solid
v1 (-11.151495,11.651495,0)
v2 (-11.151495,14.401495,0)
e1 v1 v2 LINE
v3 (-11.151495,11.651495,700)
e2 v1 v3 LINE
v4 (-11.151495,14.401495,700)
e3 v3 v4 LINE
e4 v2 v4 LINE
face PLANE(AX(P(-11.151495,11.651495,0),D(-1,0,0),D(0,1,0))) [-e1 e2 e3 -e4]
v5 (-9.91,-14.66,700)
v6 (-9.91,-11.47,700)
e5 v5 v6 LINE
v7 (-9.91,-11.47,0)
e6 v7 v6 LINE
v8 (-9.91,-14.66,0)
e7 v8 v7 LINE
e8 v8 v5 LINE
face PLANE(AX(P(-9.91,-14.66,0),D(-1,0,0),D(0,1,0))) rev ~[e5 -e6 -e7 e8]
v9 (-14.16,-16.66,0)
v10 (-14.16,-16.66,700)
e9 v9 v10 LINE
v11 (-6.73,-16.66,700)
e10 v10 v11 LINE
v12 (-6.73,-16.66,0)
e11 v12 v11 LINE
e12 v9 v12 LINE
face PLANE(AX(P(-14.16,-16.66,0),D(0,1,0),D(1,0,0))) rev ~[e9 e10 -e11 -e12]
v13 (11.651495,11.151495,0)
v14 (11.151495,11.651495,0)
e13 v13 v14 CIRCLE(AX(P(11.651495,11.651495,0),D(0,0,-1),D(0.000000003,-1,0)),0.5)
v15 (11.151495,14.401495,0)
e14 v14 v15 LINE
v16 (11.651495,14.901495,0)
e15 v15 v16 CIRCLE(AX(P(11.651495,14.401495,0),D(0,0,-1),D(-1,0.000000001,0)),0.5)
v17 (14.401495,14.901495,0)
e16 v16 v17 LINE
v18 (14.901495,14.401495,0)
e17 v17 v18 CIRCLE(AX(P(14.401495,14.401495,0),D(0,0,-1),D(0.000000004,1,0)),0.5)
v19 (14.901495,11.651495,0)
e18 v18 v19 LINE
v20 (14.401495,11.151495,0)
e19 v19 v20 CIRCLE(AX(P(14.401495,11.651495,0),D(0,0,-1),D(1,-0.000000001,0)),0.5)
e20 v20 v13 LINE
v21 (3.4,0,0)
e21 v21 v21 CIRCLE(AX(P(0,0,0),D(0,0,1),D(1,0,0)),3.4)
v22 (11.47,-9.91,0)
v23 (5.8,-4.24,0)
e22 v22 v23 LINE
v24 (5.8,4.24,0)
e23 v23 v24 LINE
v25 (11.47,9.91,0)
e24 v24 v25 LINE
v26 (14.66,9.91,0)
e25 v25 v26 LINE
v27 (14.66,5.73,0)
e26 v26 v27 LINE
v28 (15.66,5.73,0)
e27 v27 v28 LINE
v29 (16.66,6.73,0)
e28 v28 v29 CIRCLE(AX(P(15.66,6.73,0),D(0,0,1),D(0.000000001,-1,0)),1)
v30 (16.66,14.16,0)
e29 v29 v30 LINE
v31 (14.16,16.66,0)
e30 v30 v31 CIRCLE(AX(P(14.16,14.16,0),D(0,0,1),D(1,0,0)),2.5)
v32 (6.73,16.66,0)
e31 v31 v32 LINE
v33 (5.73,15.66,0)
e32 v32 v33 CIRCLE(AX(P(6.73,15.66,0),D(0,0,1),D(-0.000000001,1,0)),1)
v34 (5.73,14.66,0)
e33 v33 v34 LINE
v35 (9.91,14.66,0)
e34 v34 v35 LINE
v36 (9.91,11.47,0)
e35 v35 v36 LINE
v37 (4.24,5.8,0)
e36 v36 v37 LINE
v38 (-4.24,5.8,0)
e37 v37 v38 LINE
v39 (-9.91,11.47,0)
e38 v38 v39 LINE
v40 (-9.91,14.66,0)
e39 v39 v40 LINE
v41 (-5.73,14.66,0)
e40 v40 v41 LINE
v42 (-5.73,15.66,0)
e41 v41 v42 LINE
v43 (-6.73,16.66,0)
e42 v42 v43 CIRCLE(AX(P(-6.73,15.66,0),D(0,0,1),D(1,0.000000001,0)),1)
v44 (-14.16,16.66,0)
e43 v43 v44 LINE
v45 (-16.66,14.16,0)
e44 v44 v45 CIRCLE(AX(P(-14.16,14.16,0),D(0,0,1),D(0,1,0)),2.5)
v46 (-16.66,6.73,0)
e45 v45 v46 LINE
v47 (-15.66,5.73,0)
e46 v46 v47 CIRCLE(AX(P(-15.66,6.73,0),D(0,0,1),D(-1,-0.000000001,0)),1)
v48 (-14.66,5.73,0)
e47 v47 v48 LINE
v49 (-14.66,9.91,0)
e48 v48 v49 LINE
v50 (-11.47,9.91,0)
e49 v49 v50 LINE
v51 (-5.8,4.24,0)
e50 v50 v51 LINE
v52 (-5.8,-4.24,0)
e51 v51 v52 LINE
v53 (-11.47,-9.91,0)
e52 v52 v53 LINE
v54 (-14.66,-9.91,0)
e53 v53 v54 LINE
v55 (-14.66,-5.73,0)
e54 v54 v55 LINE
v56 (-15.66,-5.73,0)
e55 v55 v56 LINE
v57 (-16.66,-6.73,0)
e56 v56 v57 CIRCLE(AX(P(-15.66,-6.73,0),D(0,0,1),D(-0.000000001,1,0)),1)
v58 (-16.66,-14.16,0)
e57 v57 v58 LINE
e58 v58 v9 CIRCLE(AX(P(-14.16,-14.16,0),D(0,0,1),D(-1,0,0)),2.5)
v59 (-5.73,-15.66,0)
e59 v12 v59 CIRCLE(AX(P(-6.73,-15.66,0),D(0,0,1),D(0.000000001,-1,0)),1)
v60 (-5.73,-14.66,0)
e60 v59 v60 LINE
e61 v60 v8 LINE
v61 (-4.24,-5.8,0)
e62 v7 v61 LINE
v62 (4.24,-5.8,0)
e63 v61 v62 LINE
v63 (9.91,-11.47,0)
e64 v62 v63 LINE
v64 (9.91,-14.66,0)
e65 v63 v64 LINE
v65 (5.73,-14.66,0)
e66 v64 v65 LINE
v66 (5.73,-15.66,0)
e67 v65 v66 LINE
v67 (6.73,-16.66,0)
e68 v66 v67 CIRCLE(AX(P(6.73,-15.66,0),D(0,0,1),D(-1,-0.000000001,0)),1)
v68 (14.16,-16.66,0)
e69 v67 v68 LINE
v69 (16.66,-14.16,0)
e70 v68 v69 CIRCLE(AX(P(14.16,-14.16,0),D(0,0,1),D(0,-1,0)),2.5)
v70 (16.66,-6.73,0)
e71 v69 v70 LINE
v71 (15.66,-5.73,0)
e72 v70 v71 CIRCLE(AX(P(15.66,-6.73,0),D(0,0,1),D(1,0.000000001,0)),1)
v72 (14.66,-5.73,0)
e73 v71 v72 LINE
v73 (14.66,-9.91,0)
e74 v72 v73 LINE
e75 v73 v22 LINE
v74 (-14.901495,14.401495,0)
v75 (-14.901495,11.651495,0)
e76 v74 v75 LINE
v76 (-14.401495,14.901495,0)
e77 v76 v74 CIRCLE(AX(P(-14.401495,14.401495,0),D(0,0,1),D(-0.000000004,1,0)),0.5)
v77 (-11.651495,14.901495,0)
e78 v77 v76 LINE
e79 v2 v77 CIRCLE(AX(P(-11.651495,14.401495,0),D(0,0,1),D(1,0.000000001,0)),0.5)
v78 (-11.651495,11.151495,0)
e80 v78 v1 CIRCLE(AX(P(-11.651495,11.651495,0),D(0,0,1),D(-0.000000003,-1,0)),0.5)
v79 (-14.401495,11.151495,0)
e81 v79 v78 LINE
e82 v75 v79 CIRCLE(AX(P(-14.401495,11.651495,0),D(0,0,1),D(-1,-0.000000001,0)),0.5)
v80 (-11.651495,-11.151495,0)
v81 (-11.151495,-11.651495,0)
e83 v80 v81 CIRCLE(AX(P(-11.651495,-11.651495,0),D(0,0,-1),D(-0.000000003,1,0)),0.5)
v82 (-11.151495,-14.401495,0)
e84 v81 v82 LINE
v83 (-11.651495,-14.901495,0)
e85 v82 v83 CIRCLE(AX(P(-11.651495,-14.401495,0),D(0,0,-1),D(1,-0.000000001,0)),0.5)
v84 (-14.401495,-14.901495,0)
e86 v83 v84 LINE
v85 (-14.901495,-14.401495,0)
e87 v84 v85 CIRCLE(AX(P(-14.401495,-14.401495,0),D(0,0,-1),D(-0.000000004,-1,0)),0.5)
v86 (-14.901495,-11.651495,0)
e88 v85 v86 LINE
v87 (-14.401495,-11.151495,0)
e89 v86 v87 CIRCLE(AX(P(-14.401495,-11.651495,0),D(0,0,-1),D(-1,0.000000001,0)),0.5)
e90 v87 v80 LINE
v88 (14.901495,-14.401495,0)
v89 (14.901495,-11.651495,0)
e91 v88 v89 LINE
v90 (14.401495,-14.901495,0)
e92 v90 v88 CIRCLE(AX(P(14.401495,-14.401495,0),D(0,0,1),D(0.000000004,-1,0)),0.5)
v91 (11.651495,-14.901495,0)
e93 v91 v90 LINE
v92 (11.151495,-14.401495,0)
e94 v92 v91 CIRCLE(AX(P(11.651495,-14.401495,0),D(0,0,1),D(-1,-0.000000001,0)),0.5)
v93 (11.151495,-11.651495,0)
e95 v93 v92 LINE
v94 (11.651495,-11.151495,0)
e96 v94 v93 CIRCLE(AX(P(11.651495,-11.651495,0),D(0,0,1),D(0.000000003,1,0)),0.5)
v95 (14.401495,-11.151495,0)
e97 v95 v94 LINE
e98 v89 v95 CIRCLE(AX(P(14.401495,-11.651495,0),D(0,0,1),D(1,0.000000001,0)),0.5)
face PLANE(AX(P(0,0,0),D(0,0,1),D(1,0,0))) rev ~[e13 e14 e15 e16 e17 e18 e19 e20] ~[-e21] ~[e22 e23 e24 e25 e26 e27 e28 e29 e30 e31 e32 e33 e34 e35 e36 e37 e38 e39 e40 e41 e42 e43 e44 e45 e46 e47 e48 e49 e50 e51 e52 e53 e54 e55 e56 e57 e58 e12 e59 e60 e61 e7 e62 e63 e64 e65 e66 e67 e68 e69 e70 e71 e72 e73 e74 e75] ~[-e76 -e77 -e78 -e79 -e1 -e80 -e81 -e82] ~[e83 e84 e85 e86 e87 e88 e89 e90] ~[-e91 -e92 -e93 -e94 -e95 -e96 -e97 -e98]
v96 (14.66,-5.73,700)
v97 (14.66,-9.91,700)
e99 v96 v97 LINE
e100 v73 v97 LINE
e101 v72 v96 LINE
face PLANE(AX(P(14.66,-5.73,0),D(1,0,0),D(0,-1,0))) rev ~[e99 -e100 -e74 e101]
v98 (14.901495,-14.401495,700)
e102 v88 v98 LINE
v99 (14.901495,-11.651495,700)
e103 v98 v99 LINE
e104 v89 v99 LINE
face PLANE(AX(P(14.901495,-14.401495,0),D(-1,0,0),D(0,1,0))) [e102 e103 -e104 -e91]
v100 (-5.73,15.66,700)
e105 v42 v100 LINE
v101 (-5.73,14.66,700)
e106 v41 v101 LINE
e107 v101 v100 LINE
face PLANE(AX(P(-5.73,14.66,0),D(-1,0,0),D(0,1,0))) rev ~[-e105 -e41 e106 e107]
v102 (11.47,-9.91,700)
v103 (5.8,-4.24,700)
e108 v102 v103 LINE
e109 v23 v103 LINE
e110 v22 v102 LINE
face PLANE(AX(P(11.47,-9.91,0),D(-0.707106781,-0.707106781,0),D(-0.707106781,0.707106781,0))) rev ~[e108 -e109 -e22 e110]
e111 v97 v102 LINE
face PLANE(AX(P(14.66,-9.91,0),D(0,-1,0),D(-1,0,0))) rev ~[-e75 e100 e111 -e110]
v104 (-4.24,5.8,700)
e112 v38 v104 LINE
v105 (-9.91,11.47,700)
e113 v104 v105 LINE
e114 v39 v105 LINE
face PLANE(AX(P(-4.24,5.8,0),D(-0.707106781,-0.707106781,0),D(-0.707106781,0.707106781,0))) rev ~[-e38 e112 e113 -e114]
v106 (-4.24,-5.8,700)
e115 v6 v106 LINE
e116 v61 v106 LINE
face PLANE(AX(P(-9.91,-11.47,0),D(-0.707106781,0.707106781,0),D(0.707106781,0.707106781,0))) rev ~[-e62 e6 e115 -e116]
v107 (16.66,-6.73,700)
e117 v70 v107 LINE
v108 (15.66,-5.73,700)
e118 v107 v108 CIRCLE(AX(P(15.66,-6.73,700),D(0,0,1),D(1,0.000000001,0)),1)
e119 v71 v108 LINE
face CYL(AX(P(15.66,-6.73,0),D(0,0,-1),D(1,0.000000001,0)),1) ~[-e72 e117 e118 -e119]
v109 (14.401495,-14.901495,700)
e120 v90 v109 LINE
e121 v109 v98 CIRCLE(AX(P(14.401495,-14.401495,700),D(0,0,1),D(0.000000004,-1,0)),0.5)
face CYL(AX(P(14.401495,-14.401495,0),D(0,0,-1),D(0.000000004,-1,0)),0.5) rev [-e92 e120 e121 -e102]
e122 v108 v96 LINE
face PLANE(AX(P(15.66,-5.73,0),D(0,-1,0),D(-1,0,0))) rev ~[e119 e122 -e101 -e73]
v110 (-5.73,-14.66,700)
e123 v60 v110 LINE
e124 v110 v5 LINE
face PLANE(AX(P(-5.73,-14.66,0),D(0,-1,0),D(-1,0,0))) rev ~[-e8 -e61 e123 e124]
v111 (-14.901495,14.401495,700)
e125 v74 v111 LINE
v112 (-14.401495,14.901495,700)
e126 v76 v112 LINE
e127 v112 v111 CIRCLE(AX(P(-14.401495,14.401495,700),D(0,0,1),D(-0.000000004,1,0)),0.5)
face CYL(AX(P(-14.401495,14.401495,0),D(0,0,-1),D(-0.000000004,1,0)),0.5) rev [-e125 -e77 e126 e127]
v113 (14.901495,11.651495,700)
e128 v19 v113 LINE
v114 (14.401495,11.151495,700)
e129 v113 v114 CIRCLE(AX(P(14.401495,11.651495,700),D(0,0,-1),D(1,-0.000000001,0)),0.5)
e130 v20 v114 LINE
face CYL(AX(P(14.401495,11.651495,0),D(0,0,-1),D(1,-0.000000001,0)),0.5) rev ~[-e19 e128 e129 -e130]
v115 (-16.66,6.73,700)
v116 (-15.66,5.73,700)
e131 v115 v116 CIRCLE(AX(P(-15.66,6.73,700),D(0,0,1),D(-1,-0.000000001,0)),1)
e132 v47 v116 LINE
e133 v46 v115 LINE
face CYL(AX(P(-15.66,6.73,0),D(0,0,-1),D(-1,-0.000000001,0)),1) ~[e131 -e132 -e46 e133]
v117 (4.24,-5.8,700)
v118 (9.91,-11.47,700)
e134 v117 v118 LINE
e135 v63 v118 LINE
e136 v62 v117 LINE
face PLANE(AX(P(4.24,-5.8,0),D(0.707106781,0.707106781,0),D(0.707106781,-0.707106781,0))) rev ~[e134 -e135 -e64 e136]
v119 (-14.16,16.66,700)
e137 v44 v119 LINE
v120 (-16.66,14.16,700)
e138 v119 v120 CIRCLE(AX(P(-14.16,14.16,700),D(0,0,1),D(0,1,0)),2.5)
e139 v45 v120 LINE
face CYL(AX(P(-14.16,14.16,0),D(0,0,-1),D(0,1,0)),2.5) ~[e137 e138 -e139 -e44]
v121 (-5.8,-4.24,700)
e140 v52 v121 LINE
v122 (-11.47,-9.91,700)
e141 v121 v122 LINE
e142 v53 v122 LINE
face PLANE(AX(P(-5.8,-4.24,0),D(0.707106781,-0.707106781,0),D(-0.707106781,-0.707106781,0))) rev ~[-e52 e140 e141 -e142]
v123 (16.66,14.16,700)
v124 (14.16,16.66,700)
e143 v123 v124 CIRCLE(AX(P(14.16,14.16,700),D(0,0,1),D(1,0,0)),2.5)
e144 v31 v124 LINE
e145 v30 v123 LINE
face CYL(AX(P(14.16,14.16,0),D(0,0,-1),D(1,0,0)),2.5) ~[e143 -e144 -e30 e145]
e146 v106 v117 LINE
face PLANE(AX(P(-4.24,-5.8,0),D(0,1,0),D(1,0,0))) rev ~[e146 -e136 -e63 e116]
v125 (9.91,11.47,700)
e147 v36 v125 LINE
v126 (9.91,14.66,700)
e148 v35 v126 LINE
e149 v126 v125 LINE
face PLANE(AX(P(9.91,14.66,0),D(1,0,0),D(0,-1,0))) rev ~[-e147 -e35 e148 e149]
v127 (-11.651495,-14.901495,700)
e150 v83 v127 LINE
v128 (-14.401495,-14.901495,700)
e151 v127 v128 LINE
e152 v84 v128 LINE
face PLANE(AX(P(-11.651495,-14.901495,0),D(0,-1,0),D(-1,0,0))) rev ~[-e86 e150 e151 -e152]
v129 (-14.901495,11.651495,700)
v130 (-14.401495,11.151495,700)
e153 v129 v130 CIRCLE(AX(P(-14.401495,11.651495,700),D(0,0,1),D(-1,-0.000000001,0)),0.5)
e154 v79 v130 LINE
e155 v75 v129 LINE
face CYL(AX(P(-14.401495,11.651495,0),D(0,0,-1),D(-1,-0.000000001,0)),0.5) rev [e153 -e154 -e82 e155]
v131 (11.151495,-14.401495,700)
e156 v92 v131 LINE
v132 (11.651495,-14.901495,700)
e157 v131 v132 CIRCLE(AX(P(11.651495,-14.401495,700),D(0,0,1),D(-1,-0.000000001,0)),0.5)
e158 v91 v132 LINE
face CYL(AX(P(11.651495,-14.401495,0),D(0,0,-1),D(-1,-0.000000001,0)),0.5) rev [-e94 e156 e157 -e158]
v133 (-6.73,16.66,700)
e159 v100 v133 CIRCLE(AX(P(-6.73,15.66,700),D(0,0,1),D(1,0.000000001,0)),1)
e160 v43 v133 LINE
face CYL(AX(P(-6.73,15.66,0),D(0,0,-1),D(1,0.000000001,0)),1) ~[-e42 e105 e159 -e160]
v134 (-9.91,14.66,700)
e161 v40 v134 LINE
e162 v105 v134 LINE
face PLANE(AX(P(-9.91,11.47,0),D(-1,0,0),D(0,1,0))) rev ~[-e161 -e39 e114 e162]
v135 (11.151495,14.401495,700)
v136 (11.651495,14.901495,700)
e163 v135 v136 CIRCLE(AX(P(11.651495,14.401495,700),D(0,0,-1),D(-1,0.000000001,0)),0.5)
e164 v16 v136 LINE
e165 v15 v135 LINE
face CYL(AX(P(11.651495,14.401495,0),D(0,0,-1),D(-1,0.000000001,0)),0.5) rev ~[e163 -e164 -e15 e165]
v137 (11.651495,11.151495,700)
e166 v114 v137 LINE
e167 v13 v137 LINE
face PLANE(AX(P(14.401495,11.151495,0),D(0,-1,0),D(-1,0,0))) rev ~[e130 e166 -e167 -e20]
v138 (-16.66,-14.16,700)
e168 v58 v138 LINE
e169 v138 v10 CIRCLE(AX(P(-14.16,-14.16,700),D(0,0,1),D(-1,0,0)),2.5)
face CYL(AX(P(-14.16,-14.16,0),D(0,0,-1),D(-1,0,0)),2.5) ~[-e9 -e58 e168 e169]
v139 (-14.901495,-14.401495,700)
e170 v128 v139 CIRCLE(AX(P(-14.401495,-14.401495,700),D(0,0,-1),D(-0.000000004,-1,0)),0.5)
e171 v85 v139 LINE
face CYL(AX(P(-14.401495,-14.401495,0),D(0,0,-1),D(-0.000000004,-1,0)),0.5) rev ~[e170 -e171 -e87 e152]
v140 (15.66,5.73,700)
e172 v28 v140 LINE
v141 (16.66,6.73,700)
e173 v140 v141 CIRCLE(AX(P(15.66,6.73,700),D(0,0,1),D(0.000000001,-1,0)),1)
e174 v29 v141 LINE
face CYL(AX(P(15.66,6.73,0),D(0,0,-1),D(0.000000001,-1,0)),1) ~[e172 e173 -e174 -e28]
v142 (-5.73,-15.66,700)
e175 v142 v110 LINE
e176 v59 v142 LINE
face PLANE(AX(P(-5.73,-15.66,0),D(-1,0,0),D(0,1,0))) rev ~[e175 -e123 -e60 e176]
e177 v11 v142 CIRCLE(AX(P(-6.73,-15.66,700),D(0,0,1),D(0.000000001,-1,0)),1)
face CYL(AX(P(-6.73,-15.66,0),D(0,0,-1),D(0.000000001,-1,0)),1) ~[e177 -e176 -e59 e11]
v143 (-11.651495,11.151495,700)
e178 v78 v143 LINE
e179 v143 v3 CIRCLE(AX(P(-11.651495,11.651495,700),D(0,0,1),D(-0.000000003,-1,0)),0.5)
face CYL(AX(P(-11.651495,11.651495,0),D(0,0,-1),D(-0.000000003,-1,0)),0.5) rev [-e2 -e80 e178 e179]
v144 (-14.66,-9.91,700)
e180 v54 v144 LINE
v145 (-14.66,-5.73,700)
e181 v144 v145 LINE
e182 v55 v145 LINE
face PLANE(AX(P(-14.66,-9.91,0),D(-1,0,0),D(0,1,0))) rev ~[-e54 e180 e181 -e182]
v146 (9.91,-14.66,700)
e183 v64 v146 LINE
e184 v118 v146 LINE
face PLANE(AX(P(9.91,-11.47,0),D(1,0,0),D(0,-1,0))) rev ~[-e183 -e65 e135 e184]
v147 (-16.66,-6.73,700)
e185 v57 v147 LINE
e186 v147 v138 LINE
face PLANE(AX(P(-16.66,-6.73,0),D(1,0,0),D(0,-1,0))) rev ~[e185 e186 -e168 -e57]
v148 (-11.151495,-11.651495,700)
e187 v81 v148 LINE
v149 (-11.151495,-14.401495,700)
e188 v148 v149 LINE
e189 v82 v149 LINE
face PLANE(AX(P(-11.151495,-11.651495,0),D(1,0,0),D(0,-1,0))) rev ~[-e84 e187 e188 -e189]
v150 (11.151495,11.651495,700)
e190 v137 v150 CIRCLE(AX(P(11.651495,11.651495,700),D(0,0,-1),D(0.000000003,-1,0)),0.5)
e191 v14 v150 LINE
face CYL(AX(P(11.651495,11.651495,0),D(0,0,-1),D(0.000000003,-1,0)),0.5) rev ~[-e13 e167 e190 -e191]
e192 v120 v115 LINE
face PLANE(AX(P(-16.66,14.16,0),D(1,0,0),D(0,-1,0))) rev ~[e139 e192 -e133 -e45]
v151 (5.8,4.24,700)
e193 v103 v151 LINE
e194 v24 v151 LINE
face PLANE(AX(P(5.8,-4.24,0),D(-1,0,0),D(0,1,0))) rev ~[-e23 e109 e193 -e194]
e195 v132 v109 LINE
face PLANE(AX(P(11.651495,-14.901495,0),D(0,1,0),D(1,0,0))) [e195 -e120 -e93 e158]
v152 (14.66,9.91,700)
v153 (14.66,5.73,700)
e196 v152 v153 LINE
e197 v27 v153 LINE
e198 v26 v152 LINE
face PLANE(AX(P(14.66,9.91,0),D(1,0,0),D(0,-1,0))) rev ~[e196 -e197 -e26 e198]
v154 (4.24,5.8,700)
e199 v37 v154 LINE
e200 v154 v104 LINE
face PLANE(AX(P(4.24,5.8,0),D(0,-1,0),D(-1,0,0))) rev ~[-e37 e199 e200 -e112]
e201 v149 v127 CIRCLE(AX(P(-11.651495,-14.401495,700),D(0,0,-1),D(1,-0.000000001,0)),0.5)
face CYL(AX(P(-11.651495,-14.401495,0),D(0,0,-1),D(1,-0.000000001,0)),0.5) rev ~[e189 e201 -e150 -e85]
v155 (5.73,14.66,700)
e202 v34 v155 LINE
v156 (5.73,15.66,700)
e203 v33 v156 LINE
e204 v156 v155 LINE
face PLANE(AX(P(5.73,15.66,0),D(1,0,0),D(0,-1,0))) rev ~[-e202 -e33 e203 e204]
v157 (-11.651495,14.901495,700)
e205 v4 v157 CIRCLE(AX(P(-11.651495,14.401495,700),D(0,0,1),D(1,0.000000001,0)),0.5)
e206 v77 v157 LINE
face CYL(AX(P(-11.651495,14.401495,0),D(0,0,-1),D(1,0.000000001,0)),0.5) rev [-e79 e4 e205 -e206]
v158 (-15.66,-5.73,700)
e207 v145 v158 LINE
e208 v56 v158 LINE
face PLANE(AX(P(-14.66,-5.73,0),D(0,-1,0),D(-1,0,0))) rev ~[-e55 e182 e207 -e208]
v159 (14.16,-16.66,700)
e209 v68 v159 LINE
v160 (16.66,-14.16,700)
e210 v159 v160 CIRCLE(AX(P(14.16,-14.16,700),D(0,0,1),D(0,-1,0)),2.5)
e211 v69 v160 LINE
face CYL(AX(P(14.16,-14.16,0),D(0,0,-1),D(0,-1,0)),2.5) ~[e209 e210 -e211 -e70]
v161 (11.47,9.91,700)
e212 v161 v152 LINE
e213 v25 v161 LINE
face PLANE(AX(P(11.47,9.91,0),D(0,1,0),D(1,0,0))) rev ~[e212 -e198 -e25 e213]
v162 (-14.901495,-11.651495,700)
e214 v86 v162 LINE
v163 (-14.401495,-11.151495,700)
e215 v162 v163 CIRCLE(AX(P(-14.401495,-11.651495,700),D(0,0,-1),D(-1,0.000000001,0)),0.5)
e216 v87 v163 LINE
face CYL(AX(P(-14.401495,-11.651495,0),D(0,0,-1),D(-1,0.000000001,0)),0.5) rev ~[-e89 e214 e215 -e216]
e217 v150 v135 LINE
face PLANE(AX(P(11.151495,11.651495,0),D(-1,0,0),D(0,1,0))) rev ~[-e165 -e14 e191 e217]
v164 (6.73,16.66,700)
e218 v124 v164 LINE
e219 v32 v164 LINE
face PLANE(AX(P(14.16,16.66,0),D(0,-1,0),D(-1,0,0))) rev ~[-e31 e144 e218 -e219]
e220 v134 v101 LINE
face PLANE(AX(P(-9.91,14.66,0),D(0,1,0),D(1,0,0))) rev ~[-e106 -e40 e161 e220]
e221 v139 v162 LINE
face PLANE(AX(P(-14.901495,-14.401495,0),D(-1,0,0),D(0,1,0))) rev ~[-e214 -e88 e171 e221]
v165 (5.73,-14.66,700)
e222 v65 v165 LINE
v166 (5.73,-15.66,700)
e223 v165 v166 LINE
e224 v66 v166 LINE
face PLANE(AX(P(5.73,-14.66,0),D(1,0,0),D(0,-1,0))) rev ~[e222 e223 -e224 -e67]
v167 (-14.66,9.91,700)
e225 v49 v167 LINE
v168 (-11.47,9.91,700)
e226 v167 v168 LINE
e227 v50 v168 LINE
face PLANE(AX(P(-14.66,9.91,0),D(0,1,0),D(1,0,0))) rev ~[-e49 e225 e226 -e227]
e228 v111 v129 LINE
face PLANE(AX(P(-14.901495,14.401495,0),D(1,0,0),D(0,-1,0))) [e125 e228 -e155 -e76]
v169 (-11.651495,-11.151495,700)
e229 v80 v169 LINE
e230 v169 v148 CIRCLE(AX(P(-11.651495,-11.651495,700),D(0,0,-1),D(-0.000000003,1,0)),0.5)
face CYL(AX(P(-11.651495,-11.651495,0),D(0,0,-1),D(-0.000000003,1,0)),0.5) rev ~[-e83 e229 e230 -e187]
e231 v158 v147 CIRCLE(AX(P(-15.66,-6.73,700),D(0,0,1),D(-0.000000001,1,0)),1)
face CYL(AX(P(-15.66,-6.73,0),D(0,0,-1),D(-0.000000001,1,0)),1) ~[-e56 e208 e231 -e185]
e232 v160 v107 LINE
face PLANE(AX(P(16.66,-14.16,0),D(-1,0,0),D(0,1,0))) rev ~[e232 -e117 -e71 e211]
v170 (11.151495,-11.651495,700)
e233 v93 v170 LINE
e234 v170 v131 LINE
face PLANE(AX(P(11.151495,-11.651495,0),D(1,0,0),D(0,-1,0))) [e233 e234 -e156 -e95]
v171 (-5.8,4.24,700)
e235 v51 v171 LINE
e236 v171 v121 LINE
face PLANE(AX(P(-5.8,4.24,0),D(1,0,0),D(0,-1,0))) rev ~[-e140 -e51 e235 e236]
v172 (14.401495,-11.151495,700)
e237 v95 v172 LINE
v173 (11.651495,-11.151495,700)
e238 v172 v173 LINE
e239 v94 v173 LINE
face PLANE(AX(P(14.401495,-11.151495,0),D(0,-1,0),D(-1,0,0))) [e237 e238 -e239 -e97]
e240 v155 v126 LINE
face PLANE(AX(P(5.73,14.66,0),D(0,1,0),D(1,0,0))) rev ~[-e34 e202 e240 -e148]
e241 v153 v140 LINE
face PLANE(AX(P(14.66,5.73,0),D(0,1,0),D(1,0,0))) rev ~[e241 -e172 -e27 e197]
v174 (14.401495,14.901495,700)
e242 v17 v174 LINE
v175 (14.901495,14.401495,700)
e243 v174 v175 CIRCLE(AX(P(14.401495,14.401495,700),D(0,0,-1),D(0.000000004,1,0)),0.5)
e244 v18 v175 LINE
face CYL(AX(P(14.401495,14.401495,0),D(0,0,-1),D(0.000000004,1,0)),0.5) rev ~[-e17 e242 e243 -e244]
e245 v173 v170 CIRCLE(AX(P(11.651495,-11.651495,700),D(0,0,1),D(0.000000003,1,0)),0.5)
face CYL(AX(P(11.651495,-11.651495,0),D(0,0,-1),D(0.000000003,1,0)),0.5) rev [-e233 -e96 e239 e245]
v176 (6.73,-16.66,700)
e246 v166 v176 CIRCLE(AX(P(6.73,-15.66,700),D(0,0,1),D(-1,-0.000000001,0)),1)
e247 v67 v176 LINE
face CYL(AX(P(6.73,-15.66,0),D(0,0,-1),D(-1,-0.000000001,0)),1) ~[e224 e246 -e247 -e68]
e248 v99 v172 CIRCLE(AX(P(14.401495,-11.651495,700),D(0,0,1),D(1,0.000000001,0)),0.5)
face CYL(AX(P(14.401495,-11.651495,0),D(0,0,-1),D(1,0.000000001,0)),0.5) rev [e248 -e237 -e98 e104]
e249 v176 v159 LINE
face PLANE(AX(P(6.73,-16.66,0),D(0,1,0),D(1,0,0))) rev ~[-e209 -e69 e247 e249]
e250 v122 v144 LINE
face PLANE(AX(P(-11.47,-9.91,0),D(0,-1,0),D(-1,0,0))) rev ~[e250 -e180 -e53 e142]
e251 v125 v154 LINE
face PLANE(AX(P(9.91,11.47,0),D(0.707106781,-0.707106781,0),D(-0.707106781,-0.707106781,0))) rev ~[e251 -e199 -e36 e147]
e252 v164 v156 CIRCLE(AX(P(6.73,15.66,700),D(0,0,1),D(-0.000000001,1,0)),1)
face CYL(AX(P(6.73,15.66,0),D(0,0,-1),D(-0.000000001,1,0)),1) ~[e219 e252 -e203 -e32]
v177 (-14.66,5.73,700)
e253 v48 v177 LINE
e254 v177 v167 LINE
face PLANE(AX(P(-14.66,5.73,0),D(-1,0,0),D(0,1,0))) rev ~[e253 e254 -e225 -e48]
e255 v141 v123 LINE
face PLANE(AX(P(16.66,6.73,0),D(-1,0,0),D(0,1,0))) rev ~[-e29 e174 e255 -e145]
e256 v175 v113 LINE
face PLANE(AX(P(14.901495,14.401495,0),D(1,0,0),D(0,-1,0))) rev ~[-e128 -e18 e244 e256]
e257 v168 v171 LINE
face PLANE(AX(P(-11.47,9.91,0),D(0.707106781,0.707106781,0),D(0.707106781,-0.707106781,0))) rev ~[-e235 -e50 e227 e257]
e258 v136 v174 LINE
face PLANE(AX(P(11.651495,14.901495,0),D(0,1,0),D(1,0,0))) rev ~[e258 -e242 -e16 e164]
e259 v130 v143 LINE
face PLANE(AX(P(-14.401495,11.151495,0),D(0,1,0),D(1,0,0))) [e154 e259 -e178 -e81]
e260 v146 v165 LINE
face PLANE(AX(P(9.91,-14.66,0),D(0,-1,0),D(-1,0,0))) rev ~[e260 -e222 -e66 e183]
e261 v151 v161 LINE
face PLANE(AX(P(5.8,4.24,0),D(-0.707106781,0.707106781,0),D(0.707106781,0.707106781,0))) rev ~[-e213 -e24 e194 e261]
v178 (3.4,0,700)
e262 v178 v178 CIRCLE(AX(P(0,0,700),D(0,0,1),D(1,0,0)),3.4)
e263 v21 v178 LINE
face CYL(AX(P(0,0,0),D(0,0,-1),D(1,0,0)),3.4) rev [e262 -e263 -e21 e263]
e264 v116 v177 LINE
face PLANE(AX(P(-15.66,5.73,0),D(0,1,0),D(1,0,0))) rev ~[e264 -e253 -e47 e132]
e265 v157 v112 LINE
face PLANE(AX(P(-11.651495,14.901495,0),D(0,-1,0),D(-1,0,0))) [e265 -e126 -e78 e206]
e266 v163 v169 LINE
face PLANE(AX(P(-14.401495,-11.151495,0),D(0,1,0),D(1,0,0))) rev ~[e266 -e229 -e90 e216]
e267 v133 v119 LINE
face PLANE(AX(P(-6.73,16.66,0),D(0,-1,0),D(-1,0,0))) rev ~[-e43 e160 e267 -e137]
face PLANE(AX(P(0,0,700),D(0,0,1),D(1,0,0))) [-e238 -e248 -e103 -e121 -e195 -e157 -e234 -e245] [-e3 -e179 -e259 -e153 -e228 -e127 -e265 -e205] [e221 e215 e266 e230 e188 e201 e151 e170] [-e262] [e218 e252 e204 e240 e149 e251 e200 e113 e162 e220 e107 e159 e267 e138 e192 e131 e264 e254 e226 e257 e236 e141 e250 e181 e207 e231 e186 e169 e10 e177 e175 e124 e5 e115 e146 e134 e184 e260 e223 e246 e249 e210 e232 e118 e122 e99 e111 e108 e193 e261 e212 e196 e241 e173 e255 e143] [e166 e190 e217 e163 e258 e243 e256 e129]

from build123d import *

# Parameters (mm, degrees)
CROQUIS1_R              = 3.4
SALIENTE_EXTRUIR3_DEPTH = 700


with BuildPart() as part:
    # Croquis1 → Saliente-Extruir3 (new body)
    with BuildSketch(Plane.XY):
        with BuildLine():
            Line((5.8, -4.24), (5.8, 4.24))
            Line((5.8, 4.24), (11.47, 9.91))
            Line((11.47, 9.91), (14.66, 9.91))
            Line((14.66, 9.91), (14.66, 5.73))
            Line((14.66, 5.73), (15.66, 5.73))
            ThreePointArc((15.66, 5.73), (16.367106781, 6.022893219), (16.66, 6.73))
            Line((16.66, 6.73), (16.66, 14.16))
            ThreePointArc((16.66, 14.16), (15.927766953, 15.927766953), (14.16, 16.66))
            Line((14.16, 16.66), (6.73, 16.66))
            ThreePointArc((6.73, 16.66), (6.022893219, 16.367106781), (5.73, 15.66))
            Line((5.73, 15.66), (5.73, 14.66))
            Line((5.73, 14.66), (9.91, 14.66))
            Line((9.91, 14.66), (9.91, 11.47))
            Line((9.91, 11.47), (4.24, 5.8))
            Line((4.24, 5.8), (-4.24, 5.8))
            Line((-4.24, 5.8), (-9.91, 11.47))
            Line((-9.91, 11.47), (-9.91, 14.66))
            Line((-9.91, 14.66), (-5.73, 14.66))
            Line((-5.73, 14.66), (-5.73, 15.66))
            ThreePointArc((-5.73, 15.66), (-6.022893219, 16.367106781), (-6.73, 16.66))
            Line((-6.73, 16.66), (-14.16, 16.66))
            ThreePointArc((-14.16, 16.66), (-15.927766953, 15.927766953), (-16.66, 14.16))
            Line((-16.66, 14.16), (-16.66, 6.73))
            ThreePointArc((-16.66, 6.73), (-16.367106781, 6.022893219), (-15.66, 5.73))
            Line((-15.66, 5.73), (-14.66, 5.73))
            Line((-14.66, 5.73), (-14.66, 9.91))
            Line((-14.66, 9.91), (-11.47, 9.91))
            Line((-11.47, 9.91), (-5.8, 4.24))
            Line((-5.8, 4.24), (-5.8, -4.24))
            Line((-5.8, -4.24), (-11.47, -9.91))
            Line((-11.47, -9.91), (-14.66, -9.91))
            Line((-14.66, -9.91), (-14.66, -5.73))
            Line((-14.66, -5.73), (-15.66, -5.73))
            ThreePointArc((-15.66, -5.73), (-16.367106781, -6.022893219), (-16.66, -6.73))
            Line((-16.66, -6.73), (-16.66, -14.16))
            ThreePointArc((-16.66, -14.16), (-15.927766953, -15.927766953), (-14.16, -16.66))
            Line((-14.16, -16.66), (-6.73, -16.66))
            ThreePointArc((-6.73, -16.66), (-6.022893219, -16.367106781), (-5.73, -15.66))
            Line((-5.73, -15.66), (-5.73, -14.66))
            Line((-5.73, -14.66), (-9.91, -14.66))
            Line((-9.91, -14.66), (-9.91, -11.47))
            Line((-9.91, -11.47), (-4.24, -5.8))
            Line((-4.24, -5.8), (4.24, -5.8))
            Line((4.24, -5.8), (9.91, -11.47))
            Line((9.91, -11.47), (9.91, -14.66))
            Line((9.91, -14.66), (5.73, -14.66))
            Line((5.73, -14.66), (5.73, -15.66))
            ThreePointArc((5.73, -15.66), (6.022893219, -16.367106781), (6.73, -16.66))
            Line((6.73, -16.66), (14.16, -16.66))
            ThreePointArc((14.16, -16.66), (15.927766953, -15.927766953), (16.66, -14.16))
            Line((16.66, -14.16), (16.66, -6.73))
            ThreePointArc((16.66, -6.73), (16.367106781, -6.022893219), (15.66, -5.73))
            Line((15.66, -5.73), (14.66, -5.73))
            Line((14.66, -5.73), (14.66, -9.91))
            Line((14.66, -9.91), (11.47, -9.91))
            Line((11.47, -9.91), (5.8, -4.24))
        make_face()
        Circle(CROQUIS1_R, mode=Mode.SUBTRACT)
        with BuildLine():
            Line((11.651495134, 14.901495134), (14.401495134, 14.901495134))
            ThreePointArc((14.401495134, 14.901495134), (14.755048524, 14.755048524), (14.901495134, 14.401495134))
            Line((14.901495134, 14.401495134), (14.901495134, 11.651495134))
            ThreePointArc((14.901495134, 11.651495134), (14.755048524, 11.297941743), (14.401495134, 11.151495134))
            Line((14.401495134, 11.151495134), (11.651495134, 11.151495134))
            ThreePointArc((11.651495134, 11.151495134), (11.297941743, 11.297941743), (11.151495134, 11.651495134))
            Line((11.151495134, 11.651495134), (11.151495134, 14.401495134))
            ThreePointArc((11.151495134, 14.401495134), (11.297941743, 14.755048524), (11.651495134, 14.901495134))
        make_face(mode=Mode.SUBTRACT)
        with BuildLine():
            Line((-14.901495134, 14.401495134), (-14.901495134, 11.651495134))
            ThreePointArc((-14.901495134, 11.651495134), (-14.755048524, 11.297941743), (-14.401495134, 11.151495134))
            Line((-14.401495134, 11.151495134), (-11.651495134, 11.151495134))
            ThreePointArc((-11.651495134, 11.151495134), (-11.297941743, 11.297941743), (-11.151495134, 11.651495134))
            Line((-11.151495134, 11.651495134), (-11.151495134, 14.401495134))
            ThreePointArc((-11.151495134, 14.401495134), (-11.297941743, 14.755048524), (-11.651495134, 14.901495134))
            Line((-11.651495134, 14.901495134), (-14.401495134, 14.901495134))
            ThreePointArc((-14.401495134, 14.901495134), (-14.755048524, 14.755048524), (-14.901495134, 14.401495134))
        make_face(mode=Mode.SUBTRACT)
        with BuildLine():
            Line((-11.651495134, -14.901495134), (-14.401495134, -14.901495134))
            ThreePointArc((-14.401495134, -14.901495134), (-14.755048524, -14.755048524), (-14.901495134, -14.401495134))
            Line((-14.901495134, -14.401495134), (-14.901495134, -11.651495134))
            ThreePointArc((-14.901495134, -11.651495134), (-14.755048524, -11.297941743), (-14.401495134, -11.151495134))
            Line((-14.401495134, -11.151495134), (-11.651495134, -11.151495134))
            ThreePointArc((-11.651495134, -11.151495134), (-11.297941743, -11.297941743), (-11.151495134, -11.651495134))
            Line((-11.151495134, -11.651495134), (-11.151495134, -14.401495134))
            ThreePointArc((-11.151495134, -14.401495134), (-11.297941743, -14.755048524), (-11.651495134, -14.901495134))
        make_face(mode=Mode.SUBTRACT)
        with BuildLine():
            Line((14.901495134, -14.401495134), (14.901495134, -11.651495134))
            ThreePointArc((14.901495134, -11.651495134), (14.755048524, -11.297941743), (14.401495134, -11.151495134))
            Line((14.401495134, -11.151495134), (11.651495134, -11.151495134))
            ThreePointArc((11.651495134, -11.151495134), (11.297941743, -11.297941743), (11.151495134, -11.651495134))
            Line((11.151495134, -11.651495134), (11.151495134, -14.401495134))
            ThreePointArc((11.151495134, -14.401495134), (11.297941743, -14.755048524), (11.651495134, -14.901495134))
            Line((11.651495134, -14.901495134), (14.401495134, -14.901495134))
            ThreePointArc((14.401495134, -14.901495134), (14.755048524, -14.755048524), (14.901495134, -14.401495134))
        make_face(mode=Mode.SUBTRACT)
    extrude(amount=SALIENTE_EXTRUIR3_DEPTH)


solid = part.part
